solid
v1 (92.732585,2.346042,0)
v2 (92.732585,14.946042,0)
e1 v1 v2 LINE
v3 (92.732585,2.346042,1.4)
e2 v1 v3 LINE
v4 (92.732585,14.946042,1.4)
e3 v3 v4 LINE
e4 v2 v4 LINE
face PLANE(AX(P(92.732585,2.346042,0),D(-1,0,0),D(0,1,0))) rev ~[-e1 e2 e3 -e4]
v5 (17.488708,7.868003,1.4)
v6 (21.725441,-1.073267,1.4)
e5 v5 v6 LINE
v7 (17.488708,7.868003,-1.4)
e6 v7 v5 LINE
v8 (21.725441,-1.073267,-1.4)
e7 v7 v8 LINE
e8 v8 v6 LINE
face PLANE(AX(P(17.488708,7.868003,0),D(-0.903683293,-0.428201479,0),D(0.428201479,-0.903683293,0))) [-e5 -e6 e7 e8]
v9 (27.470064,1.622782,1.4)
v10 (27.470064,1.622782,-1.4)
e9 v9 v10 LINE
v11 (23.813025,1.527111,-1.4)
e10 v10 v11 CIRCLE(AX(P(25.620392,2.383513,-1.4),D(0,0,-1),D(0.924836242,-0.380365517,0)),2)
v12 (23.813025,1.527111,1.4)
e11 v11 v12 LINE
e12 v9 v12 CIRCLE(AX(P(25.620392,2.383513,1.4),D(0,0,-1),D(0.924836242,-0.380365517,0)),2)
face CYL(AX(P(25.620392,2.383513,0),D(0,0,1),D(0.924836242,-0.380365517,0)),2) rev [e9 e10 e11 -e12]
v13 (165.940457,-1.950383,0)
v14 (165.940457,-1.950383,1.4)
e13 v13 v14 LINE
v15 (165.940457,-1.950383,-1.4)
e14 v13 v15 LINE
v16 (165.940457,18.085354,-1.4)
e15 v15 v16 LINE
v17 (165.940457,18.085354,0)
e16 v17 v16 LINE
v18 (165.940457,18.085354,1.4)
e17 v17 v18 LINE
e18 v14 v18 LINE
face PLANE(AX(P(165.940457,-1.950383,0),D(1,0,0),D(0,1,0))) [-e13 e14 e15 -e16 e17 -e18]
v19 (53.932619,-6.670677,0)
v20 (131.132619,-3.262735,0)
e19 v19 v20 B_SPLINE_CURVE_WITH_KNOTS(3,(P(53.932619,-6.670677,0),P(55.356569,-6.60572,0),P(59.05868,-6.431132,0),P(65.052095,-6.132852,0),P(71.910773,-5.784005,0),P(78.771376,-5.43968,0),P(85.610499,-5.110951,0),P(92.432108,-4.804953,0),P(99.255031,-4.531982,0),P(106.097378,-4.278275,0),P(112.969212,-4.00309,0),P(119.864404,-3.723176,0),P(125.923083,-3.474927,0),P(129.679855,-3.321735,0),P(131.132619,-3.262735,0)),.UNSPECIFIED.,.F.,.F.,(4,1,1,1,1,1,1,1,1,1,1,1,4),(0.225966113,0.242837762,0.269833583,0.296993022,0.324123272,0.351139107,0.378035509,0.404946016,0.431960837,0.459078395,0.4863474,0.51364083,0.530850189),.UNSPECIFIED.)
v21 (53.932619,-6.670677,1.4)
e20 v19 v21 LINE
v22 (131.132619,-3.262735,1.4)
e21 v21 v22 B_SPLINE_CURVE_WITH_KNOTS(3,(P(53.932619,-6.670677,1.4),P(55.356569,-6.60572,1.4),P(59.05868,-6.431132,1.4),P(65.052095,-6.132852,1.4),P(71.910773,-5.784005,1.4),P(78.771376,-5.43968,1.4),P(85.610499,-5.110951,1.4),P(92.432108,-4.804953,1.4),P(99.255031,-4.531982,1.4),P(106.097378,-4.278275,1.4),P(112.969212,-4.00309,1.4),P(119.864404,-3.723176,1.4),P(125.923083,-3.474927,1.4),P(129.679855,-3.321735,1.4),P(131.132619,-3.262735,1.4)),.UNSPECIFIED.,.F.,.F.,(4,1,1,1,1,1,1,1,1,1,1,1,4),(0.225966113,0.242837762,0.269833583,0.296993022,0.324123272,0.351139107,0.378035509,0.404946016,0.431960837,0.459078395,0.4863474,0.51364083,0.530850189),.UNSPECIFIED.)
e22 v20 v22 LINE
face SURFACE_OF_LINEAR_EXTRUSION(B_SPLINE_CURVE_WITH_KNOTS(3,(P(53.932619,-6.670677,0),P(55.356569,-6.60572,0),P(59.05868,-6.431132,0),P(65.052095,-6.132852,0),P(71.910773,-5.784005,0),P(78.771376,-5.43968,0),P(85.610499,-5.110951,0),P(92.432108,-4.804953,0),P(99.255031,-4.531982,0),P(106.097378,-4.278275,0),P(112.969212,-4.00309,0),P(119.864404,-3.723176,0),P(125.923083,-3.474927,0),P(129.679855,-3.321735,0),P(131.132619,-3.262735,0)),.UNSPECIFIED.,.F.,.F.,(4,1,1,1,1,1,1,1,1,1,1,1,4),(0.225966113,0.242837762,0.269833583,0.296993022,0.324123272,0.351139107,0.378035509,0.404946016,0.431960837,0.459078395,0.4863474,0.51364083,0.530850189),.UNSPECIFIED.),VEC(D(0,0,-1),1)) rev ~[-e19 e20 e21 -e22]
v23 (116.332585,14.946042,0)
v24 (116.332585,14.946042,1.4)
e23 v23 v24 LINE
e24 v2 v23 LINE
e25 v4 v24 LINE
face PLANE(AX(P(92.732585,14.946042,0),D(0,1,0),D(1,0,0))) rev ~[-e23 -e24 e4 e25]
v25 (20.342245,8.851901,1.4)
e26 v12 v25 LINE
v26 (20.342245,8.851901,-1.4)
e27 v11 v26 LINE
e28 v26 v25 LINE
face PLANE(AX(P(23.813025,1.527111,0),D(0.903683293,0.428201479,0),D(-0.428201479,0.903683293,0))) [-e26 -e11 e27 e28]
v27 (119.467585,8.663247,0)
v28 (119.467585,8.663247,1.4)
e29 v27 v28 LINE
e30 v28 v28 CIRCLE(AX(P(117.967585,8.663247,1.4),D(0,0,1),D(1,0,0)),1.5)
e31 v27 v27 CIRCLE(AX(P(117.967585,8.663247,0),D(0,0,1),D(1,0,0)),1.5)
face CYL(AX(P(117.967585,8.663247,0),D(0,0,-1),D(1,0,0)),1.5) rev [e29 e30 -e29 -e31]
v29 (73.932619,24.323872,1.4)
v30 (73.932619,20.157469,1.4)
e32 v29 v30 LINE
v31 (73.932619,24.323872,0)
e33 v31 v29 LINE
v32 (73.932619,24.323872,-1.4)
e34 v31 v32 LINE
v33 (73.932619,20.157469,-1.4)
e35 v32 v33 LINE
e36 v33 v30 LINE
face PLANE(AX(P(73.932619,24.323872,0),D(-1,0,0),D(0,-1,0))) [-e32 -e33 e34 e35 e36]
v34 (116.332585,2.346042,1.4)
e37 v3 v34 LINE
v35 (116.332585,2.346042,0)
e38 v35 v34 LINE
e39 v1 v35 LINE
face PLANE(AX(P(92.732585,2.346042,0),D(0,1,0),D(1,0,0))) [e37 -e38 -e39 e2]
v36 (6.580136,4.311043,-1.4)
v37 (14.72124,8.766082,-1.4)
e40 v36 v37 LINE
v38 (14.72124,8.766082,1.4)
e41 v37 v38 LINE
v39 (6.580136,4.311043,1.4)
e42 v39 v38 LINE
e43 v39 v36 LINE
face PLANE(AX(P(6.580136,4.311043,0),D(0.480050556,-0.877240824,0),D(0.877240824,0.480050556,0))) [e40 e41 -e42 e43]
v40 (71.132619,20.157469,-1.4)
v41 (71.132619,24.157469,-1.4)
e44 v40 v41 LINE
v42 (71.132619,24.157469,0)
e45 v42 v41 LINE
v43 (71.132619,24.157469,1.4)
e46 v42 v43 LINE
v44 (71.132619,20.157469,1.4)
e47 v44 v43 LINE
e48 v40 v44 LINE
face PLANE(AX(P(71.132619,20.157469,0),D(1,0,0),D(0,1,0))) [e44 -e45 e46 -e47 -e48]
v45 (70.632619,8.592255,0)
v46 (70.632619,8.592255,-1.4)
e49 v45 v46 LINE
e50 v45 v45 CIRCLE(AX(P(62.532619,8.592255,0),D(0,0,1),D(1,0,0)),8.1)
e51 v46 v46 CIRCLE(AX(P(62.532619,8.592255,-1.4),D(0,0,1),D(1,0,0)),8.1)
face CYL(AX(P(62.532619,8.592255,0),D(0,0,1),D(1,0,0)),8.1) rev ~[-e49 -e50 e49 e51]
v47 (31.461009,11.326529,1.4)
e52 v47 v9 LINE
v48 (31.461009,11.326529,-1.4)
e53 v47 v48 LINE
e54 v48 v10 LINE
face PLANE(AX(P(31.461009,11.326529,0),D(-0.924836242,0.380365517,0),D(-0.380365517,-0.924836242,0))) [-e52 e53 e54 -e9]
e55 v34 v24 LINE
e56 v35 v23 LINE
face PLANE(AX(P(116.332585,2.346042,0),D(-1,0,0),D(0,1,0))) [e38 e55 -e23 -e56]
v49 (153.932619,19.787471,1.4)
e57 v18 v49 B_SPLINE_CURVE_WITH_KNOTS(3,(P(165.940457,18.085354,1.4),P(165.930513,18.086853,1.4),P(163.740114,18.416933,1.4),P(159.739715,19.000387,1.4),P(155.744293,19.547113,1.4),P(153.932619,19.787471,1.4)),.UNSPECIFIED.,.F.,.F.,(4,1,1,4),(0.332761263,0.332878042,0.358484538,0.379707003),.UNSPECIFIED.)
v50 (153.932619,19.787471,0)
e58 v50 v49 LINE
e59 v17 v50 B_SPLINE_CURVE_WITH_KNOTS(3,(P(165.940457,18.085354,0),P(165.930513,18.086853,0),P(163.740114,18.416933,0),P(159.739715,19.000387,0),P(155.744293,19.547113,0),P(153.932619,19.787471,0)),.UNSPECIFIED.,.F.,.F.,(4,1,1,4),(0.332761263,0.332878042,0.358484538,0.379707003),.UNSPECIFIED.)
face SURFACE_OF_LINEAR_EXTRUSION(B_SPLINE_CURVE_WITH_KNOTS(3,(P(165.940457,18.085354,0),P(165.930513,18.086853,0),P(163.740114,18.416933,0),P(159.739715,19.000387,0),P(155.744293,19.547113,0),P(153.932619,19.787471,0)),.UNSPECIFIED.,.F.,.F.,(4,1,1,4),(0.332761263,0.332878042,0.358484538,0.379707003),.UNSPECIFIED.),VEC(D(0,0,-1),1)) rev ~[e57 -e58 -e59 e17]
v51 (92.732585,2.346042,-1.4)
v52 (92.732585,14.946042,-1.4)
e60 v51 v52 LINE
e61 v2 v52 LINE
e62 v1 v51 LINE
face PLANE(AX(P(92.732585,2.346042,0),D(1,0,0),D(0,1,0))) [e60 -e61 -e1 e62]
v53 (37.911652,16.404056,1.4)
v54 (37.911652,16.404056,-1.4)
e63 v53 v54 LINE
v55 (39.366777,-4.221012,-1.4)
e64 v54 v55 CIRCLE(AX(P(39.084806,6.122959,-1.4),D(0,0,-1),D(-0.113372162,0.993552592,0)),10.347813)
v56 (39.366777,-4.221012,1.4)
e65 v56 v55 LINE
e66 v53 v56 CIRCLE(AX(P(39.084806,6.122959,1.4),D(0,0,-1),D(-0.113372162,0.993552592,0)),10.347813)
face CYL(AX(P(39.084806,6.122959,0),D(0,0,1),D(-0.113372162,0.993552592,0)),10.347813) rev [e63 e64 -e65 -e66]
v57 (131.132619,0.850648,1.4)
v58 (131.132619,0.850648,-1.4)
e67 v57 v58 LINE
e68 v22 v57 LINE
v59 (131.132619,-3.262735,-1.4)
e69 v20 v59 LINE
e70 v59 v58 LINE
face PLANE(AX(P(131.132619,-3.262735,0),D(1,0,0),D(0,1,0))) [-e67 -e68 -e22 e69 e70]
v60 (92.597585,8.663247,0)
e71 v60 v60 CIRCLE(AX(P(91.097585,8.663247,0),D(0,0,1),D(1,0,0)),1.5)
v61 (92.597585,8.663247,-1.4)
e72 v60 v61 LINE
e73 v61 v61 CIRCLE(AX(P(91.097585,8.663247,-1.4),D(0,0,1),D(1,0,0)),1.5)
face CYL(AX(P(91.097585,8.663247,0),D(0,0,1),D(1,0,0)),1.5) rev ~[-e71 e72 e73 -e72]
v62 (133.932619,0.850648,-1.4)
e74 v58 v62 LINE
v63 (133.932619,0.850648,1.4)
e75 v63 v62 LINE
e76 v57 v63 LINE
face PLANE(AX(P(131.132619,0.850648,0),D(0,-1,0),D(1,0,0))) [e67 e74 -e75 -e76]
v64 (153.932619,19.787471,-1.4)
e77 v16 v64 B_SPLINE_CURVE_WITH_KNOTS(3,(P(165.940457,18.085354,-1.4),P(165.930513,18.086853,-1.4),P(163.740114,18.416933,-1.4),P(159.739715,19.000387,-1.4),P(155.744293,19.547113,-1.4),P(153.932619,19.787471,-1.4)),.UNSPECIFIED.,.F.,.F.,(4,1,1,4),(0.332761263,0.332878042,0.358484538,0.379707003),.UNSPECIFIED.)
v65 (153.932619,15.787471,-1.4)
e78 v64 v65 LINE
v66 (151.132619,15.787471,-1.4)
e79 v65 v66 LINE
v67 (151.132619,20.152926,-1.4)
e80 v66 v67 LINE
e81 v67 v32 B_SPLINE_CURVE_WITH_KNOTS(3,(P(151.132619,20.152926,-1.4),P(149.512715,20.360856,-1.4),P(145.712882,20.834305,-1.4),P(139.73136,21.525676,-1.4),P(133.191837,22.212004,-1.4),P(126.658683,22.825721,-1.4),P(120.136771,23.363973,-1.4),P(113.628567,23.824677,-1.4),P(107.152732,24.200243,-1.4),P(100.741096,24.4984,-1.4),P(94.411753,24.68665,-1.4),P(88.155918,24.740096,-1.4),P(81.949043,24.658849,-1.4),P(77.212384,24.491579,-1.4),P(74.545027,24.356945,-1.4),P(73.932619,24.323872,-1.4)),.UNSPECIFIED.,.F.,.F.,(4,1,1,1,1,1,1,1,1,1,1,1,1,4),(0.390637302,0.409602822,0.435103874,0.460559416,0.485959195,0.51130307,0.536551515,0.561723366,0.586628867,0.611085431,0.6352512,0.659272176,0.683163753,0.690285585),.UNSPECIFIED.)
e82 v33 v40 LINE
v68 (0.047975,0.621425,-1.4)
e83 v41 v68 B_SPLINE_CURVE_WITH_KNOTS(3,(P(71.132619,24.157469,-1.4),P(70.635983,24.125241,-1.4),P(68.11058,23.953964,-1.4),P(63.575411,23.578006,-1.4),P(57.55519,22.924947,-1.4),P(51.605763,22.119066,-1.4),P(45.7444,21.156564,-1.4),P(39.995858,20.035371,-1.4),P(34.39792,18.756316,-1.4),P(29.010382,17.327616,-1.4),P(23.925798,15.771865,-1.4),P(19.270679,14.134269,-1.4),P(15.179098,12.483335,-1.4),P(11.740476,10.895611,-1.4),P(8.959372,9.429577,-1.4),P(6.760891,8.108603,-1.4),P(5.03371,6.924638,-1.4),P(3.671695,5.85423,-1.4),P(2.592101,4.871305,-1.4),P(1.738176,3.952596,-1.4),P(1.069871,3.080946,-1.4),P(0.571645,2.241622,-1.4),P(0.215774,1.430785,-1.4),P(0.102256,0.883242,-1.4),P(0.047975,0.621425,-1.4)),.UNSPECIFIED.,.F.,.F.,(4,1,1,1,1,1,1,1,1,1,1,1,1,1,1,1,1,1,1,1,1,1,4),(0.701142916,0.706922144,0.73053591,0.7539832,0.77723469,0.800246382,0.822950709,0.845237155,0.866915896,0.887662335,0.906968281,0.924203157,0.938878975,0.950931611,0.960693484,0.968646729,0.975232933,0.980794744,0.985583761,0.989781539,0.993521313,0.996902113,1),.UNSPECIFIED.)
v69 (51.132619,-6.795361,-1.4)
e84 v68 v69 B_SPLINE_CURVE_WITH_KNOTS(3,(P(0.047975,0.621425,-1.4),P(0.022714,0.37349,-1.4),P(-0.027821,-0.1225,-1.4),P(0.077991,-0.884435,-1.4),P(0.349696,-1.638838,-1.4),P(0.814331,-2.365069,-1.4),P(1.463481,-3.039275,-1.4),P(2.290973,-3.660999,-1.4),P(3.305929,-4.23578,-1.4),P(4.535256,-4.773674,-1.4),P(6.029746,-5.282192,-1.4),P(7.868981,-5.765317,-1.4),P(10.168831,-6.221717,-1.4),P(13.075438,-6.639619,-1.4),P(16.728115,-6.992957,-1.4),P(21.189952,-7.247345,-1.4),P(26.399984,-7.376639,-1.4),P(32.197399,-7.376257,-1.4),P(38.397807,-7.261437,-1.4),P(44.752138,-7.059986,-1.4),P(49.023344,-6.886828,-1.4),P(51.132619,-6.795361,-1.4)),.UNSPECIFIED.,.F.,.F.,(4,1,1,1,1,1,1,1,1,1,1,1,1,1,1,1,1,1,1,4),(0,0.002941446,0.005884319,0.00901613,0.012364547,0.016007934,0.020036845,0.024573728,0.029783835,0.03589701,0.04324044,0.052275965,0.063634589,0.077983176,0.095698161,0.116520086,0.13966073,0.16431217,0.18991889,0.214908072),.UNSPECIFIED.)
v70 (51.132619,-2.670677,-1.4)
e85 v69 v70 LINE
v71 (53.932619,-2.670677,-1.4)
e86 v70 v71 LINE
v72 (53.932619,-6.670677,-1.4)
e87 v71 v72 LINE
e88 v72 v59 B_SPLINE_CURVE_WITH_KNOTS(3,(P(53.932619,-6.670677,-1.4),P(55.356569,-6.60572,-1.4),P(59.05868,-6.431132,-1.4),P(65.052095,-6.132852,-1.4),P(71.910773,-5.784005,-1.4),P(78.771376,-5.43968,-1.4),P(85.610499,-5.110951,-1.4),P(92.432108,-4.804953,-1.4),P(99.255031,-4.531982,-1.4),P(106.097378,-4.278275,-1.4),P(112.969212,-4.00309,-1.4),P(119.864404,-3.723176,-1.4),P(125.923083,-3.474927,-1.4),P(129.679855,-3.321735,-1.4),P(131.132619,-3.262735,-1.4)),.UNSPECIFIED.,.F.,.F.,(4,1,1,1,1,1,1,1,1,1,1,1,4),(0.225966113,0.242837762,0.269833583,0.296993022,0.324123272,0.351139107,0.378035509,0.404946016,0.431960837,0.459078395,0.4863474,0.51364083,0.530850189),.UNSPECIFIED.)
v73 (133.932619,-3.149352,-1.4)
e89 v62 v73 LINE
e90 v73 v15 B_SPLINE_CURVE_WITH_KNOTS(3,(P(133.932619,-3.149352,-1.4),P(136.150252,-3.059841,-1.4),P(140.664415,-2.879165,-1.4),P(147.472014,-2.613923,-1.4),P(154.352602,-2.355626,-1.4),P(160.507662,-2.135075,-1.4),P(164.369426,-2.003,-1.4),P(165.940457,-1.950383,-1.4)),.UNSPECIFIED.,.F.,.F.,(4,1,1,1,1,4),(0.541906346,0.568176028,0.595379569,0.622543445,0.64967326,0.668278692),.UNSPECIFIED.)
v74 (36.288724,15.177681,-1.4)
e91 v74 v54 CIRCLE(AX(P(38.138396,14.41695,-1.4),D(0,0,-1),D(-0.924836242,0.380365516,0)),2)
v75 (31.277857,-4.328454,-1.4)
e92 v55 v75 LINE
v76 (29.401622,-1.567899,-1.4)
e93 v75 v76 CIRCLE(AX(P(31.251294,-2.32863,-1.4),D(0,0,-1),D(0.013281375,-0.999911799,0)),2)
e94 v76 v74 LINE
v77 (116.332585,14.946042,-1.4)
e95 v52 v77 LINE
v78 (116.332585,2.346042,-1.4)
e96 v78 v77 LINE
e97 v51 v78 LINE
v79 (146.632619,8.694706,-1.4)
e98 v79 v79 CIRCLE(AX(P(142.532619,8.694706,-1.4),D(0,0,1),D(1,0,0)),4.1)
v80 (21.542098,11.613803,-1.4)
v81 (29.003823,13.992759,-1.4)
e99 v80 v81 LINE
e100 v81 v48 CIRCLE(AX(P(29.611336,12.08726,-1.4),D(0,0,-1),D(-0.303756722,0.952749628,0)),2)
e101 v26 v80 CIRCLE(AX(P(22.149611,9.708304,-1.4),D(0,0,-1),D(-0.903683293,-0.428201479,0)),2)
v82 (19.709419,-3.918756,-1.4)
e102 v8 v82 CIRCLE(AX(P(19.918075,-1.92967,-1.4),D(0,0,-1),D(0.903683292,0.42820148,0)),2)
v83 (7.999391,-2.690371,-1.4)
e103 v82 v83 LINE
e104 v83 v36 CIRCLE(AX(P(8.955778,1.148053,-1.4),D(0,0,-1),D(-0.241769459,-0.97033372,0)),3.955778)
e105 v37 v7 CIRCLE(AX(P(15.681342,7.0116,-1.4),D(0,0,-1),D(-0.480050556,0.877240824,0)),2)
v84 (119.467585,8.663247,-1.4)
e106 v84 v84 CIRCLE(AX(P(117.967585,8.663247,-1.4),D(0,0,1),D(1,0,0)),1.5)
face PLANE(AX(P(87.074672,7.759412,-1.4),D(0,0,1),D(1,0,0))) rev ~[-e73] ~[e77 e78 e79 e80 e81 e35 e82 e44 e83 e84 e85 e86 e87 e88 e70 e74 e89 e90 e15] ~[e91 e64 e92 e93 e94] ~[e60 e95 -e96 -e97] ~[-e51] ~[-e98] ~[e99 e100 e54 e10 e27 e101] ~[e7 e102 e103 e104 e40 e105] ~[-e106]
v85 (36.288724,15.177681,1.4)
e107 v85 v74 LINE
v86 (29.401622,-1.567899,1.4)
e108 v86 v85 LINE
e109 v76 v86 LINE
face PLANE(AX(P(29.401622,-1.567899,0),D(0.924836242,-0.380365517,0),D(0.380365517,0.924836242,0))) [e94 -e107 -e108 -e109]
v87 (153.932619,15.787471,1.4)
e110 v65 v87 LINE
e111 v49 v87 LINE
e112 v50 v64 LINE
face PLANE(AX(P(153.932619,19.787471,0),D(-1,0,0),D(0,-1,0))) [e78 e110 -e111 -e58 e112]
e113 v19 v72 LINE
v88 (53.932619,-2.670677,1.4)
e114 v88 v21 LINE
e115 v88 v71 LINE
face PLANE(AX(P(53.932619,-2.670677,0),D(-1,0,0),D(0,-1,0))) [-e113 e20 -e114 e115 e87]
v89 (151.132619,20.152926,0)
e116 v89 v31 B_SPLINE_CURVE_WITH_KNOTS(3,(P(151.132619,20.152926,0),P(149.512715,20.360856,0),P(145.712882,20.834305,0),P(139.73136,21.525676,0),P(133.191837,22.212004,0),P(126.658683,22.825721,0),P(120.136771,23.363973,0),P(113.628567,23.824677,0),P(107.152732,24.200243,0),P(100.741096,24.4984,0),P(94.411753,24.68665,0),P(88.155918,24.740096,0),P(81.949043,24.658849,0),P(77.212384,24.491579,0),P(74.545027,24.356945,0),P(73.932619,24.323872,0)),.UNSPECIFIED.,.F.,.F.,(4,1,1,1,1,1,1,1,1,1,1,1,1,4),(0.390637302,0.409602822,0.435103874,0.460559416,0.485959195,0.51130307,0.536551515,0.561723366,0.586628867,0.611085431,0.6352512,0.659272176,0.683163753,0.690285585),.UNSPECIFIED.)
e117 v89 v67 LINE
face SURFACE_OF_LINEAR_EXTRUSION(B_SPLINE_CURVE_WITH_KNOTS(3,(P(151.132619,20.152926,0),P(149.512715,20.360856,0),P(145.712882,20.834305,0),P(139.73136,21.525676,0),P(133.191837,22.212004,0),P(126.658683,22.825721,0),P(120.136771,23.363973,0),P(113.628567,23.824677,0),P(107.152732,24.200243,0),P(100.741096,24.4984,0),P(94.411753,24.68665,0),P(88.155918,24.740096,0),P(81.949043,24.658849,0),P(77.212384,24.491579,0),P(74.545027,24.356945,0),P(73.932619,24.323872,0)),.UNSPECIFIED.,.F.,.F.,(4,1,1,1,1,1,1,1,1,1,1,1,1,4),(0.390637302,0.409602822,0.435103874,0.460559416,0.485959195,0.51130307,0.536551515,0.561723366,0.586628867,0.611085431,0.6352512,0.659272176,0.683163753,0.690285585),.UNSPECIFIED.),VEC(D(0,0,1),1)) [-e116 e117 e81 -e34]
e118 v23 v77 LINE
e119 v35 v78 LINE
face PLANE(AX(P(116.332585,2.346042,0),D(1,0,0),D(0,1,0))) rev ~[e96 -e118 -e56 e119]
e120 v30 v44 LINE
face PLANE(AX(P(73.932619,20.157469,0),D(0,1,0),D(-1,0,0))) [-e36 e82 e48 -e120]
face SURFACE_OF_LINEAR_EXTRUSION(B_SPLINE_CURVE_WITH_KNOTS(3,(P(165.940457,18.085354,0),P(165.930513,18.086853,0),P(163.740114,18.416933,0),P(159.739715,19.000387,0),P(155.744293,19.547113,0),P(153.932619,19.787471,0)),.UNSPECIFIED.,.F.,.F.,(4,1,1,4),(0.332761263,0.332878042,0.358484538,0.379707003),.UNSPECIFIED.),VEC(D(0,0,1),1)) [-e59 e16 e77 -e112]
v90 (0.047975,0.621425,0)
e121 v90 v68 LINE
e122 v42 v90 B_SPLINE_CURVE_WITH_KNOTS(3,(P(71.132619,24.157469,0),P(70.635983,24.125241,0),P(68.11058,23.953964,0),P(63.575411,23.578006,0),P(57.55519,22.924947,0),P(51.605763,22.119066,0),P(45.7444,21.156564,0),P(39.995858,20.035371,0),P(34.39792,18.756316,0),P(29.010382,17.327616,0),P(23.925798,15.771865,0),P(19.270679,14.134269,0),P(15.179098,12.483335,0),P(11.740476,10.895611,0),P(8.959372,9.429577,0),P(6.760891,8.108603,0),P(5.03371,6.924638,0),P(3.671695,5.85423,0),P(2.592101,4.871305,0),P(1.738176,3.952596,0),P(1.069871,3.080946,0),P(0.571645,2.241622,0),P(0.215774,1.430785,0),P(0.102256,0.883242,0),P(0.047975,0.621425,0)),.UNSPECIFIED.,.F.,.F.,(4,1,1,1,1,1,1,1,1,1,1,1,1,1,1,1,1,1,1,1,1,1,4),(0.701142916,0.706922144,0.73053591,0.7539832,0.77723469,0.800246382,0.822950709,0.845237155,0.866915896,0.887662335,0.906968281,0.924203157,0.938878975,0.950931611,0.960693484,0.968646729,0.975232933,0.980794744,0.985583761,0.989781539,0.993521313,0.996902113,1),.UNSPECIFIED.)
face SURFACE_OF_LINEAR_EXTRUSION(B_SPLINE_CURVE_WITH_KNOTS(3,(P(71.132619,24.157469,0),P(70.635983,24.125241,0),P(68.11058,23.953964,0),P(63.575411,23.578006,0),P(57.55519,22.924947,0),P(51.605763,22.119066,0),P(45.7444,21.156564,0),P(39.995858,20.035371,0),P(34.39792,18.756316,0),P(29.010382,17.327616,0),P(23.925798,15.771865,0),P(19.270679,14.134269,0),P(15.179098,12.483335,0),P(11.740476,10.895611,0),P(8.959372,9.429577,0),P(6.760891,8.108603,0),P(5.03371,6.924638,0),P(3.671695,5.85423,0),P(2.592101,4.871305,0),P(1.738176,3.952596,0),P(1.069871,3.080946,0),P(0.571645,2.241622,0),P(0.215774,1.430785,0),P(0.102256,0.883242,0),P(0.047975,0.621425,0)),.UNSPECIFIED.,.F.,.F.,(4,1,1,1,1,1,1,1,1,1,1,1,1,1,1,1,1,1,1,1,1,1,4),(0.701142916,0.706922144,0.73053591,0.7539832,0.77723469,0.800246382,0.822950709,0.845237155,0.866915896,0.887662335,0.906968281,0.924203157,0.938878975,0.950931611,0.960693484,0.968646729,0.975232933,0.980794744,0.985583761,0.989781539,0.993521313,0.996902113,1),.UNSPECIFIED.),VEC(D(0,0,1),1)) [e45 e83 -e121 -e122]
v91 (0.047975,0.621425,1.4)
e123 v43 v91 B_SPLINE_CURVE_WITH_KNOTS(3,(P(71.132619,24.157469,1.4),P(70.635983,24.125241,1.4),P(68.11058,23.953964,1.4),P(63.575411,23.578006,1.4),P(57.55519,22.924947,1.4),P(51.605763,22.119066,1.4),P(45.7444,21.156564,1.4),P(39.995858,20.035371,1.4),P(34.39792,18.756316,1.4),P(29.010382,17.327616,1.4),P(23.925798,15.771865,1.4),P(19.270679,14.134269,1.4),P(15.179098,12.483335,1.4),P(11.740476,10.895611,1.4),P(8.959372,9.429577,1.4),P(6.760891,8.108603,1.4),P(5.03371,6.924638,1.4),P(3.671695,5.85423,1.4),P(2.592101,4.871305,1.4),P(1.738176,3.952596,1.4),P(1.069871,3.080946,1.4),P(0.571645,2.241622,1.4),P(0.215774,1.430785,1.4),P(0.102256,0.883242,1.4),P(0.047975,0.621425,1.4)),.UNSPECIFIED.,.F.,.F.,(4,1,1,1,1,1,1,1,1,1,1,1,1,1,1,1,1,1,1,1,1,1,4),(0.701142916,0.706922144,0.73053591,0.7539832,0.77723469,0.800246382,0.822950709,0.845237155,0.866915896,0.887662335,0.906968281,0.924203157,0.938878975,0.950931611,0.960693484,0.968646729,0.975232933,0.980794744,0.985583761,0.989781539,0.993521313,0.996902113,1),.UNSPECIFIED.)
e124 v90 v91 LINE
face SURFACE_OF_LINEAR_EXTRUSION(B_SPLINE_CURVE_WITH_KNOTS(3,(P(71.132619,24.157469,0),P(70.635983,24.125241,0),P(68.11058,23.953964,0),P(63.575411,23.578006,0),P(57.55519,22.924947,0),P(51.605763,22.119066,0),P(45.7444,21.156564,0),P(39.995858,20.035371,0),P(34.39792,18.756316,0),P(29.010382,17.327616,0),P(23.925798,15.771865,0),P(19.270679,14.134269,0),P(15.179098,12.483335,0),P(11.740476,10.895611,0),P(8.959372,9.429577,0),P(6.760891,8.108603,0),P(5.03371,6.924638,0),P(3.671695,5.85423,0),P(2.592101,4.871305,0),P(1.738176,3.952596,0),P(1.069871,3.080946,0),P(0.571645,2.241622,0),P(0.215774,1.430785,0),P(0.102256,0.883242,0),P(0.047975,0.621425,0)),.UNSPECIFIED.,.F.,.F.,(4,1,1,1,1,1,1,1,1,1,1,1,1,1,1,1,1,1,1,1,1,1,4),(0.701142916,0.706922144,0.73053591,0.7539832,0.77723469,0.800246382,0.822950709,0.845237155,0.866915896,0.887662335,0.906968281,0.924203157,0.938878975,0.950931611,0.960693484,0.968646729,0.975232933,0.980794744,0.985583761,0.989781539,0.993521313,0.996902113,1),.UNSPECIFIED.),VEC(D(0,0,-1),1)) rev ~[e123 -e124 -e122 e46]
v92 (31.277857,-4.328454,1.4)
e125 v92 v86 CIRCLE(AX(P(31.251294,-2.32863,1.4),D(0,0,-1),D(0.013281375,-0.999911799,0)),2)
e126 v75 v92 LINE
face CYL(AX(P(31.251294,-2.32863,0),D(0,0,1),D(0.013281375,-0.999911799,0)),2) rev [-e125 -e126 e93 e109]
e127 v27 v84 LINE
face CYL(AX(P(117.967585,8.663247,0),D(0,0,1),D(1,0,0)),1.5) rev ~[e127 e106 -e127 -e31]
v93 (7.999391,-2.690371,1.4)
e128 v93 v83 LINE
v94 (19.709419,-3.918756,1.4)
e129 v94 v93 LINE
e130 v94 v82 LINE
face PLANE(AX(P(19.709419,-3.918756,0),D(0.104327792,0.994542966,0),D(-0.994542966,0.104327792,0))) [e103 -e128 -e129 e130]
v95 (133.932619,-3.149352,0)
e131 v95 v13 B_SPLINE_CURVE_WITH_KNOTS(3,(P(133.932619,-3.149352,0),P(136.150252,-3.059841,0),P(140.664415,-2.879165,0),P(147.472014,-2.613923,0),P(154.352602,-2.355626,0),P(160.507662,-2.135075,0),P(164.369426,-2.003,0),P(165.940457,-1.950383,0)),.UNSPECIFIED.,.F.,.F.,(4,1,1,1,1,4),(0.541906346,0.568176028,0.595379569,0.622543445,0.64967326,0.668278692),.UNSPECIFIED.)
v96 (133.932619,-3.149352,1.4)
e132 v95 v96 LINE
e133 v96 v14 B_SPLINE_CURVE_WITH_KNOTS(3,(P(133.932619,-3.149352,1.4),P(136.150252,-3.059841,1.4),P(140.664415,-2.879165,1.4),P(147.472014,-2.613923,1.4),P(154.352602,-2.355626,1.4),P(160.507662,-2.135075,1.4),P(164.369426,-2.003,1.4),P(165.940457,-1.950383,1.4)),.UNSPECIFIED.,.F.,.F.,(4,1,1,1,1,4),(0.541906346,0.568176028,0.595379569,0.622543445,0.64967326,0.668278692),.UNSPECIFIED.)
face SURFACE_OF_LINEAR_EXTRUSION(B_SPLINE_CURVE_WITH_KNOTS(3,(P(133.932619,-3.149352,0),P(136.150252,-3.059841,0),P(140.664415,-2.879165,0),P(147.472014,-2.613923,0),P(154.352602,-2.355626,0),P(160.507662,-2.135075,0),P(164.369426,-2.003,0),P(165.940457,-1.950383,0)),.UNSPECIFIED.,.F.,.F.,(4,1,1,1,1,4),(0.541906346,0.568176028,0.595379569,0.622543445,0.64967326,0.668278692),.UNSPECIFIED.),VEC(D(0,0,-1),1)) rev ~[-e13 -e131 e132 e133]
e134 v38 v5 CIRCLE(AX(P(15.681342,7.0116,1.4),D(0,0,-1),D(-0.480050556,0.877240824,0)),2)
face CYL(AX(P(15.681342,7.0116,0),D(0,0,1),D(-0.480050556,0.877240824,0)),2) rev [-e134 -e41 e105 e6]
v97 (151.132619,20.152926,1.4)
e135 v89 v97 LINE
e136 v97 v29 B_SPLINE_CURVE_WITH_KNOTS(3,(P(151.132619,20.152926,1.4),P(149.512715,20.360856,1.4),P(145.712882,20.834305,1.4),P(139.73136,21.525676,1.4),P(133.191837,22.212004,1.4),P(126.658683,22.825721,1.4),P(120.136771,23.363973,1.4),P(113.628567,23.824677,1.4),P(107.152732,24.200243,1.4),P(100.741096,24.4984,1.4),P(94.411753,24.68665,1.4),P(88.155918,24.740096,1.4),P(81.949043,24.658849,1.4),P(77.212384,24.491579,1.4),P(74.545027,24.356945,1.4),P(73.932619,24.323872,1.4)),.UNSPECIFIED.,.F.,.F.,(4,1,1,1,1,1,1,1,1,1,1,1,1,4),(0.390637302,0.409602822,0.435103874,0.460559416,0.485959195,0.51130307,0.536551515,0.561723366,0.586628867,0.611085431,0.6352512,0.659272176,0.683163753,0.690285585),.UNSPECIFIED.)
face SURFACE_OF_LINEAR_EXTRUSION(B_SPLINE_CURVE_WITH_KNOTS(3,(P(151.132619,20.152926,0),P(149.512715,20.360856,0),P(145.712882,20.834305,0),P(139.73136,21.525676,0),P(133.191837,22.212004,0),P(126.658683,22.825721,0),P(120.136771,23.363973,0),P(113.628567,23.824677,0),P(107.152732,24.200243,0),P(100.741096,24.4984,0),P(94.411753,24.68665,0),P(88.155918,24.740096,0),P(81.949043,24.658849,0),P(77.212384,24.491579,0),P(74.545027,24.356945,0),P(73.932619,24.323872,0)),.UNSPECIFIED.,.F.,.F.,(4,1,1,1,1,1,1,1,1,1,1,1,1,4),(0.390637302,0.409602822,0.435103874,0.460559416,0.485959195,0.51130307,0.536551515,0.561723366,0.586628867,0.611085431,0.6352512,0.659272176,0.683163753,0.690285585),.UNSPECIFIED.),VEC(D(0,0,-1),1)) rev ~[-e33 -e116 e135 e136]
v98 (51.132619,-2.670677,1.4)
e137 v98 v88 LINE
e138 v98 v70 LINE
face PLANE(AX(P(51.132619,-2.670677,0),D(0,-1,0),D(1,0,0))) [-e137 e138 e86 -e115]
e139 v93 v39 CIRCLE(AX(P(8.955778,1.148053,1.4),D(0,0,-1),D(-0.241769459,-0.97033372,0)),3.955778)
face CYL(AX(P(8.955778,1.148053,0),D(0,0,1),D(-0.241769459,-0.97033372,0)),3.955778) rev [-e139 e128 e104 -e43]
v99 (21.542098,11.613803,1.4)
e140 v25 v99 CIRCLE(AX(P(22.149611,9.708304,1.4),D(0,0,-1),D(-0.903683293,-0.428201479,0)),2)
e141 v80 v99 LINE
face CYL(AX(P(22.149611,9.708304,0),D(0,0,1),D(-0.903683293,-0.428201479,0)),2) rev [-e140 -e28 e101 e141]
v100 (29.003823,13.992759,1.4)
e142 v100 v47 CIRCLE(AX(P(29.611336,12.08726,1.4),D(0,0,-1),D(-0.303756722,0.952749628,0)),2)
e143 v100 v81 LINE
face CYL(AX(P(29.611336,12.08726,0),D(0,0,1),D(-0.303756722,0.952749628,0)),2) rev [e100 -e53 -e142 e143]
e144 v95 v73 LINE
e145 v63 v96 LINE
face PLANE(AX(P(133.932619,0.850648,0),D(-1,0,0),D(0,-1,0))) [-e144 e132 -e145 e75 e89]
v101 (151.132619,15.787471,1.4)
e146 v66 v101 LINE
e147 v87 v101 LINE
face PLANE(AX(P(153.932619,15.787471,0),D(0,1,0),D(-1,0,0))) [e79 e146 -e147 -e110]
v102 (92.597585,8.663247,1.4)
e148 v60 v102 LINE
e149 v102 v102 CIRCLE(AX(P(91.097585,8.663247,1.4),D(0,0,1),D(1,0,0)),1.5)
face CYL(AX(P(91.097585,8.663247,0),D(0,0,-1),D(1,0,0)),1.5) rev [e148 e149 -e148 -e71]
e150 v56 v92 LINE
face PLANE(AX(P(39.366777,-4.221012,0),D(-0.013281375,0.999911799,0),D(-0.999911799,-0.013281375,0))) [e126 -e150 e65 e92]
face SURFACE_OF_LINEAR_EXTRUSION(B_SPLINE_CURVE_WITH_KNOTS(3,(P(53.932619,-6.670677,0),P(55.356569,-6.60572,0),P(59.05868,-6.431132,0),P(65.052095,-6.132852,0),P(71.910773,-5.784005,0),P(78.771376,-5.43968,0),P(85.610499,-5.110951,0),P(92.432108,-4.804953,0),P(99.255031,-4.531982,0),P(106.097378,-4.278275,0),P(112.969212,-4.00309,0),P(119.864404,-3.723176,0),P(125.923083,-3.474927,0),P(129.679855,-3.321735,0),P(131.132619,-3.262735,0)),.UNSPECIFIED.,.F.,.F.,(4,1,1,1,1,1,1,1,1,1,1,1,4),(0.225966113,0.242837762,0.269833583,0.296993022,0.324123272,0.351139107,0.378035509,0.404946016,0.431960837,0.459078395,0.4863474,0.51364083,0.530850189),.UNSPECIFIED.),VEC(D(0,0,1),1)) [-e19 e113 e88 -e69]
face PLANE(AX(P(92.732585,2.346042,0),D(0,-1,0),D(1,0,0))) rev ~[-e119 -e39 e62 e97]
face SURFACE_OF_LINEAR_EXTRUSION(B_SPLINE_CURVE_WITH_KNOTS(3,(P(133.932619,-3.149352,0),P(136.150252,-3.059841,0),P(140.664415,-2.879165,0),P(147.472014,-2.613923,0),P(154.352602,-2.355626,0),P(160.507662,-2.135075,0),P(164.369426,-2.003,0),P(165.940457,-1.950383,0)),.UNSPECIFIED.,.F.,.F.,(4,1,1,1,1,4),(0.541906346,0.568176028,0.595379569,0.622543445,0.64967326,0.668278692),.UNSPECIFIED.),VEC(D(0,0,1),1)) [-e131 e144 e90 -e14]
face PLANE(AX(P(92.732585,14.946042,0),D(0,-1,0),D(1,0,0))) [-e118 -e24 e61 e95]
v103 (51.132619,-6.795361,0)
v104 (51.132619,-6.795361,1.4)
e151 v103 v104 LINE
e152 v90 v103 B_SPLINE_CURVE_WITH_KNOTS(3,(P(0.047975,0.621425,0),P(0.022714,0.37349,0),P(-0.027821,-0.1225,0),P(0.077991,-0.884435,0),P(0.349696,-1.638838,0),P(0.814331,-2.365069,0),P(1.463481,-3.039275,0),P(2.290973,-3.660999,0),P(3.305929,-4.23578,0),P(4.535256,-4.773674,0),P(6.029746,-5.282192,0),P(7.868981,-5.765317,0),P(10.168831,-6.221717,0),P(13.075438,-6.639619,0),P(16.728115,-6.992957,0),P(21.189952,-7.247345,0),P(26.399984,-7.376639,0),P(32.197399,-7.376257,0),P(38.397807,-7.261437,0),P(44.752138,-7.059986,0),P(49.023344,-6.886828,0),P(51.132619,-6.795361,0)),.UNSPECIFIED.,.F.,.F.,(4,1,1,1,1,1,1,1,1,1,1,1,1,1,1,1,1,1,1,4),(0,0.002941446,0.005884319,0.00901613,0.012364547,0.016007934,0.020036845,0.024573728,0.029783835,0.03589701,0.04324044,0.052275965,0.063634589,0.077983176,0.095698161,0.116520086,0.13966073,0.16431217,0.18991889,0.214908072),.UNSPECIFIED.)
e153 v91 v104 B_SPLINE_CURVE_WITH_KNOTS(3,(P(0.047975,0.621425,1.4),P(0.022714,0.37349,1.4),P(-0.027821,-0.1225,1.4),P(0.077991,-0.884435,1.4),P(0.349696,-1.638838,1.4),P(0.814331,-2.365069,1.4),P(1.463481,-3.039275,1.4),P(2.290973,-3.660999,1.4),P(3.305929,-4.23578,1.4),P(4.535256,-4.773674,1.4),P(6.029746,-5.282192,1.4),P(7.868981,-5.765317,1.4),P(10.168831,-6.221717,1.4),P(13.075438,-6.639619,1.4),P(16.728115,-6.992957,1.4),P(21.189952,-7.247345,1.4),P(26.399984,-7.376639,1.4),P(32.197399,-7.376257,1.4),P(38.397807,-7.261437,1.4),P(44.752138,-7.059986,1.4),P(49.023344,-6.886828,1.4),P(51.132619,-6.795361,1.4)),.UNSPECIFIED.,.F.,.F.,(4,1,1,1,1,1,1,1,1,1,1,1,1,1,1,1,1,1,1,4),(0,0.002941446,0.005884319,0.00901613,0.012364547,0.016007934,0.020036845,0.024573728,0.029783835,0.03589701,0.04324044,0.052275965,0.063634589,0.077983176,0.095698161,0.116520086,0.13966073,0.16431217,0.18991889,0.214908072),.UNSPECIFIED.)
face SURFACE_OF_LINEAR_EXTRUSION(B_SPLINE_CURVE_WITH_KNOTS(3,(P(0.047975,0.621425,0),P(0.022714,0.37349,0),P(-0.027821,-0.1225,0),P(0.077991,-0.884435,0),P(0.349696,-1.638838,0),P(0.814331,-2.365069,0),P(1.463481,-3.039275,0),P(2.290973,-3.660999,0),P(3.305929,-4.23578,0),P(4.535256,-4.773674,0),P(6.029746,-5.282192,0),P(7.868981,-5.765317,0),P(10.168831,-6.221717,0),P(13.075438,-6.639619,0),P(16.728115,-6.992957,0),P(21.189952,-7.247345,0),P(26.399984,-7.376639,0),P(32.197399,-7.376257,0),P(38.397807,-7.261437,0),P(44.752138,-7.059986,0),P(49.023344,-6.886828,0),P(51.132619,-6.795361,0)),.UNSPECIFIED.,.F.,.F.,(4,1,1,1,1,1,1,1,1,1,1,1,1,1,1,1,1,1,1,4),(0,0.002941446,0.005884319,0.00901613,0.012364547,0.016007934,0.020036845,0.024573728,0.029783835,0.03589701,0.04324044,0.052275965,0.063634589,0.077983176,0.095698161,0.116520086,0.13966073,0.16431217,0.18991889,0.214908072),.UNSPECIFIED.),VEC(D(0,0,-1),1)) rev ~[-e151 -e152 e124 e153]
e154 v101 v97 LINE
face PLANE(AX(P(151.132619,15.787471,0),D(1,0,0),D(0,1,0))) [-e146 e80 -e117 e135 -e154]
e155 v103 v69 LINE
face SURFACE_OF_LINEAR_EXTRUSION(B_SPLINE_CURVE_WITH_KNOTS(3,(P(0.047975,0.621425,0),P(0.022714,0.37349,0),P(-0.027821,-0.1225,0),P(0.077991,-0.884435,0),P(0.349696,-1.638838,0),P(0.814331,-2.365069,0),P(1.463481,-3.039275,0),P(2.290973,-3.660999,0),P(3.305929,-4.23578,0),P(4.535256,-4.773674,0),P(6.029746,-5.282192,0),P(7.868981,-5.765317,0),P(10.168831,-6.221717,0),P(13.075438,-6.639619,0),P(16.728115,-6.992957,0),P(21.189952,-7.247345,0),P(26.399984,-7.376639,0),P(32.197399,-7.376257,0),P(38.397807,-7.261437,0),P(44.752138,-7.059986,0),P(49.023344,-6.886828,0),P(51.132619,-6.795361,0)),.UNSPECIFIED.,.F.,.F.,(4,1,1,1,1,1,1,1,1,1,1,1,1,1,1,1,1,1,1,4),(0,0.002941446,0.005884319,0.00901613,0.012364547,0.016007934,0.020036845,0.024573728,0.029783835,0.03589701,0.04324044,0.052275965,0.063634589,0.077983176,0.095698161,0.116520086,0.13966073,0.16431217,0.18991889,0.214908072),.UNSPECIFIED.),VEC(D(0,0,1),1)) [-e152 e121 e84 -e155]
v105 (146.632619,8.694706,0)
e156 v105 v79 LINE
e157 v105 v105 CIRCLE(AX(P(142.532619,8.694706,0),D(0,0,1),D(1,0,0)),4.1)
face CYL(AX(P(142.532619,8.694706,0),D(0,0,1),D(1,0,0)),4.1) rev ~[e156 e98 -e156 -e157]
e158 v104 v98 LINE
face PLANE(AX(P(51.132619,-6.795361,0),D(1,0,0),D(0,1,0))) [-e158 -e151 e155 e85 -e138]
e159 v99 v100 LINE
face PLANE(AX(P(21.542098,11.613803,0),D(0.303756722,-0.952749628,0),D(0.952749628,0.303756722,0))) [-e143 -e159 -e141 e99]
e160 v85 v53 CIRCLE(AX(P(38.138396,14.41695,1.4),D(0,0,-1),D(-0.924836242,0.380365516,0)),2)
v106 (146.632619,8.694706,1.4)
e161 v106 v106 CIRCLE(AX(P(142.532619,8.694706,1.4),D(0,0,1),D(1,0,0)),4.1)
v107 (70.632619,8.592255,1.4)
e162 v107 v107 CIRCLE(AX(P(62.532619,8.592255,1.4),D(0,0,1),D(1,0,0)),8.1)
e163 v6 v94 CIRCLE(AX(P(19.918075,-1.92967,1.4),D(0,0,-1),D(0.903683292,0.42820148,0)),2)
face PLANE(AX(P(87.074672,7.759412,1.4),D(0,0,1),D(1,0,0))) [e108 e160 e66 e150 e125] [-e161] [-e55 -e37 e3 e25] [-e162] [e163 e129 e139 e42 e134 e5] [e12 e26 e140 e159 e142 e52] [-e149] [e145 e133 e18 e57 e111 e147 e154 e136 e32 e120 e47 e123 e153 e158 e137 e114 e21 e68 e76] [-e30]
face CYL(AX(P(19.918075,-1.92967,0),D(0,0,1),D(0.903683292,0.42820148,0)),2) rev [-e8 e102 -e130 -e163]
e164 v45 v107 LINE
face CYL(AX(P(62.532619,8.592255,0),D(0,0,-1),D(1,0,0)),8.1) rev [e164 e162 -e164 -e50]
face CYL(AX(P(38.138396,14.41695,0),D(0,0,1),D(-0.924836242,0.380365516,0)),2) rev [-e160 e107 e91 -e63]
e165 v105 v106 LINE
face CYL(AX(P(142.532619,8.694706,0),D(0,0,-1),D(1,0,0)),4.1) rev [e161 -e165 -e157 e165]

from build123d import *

# Parameters (mm, degrees)
SKETCH_2_R      = 8.1
SKETCH_2_R_2    = 1.5
SKETCH_2_W      = 23.6
SKETCH_2_H      = 12.6
SKETCH_2_R_3    = 4.1
EXTRUDE_2_DEPTH = 1.4


with BuildPart() as part:
    # Эскиз2 → Бобышка-Вытянуть2 (new, symmetric)
    with BuildSketch(Plane.XY):
        with BuildLine():
            Line((165.940456932, 7.493910357), (165.940456932, 18.08535451))
            add(Edge.make_bspline(
                [(165.940456927, 18.085354477), (165.930512982, 18.086853188), (163.740114219, 18.416932942), (159.739714866, 19.000386852), (155.744292591, 19.547112651), (153.932619318, 19.787470759)],
                knots=[0.332761263, 0.332761263, 0.332761263, 0.332761263, 0.332878042, 0.358484538, 0.379707003, 0.379707003, 0.379707003, 0.379707003], degree=3))
            Line((153.932619318, 19.787470759), (153.932619318, 15.787470759))
            Line((153.932619318, 15.787470759), (151.132619318, 15.787470759))
            Line((151.132619318, 15.787470759), (151.132619318, 20.152925753))
            add(Edge.make_bspline(
                [(151.132619318, 20.152925753), (149.51271539, 20.360855756), (145.712882211, 20.834305053), (139.731359791, 21.525676112), (133.19183673, 22.212004248), (126.658683026, 22.825721427), (120.136770918, 23.363973264), (113.62856714, 23.824677322), (107.152732037, 24.200242592), (100.741095693, 24.498399508), (94.411752715, 24.686649766), (88.155917993, 24.740095648), (81.949043055, 24.658849141), (77.212383792, 24.491578654), (74.545027167, 24.35694527), (73.932619318, 24.323871534)],
                knots=[0.390637302, 0.390637302, 0.390637302, 0.390637302, 0.409602822, 0.435103874, 0.460559416, 0.485959195, 0.51130307, 0.536551515, 0.561723366, 0.586628867, 0.611085431, 0.6352512, 0.659272176, 0.683163753, 0.690285585, 0.690285585, 0.690285585, 0.690285585], degree=3))
            Line((73.932619318, 24.323871534), (73.932619318, 20.157469486))
            Line((73.932619318, 20.157469486), (71.132619318, 20.157469486))
            Line((71.132619318, 20.157469486), (71.132619318, 24.157469486))
            add(Edge.make_bspline(
                [(71.132619318, 24.157469486), (70.635982629, 24.125241372), (68.110579653, 23.953963558), (63.575410502, 23.578006358), (57.555189551, 22.924946655), (51.605762689, 22.119065518), (45.744400312, 21.156564429), (39.995857594, 20.035371386), (34.397919843, 18.75631623), (29.010382104, 17.327615604), (23.925798409, 15.771864917), (19.27067884, 14.13426943), (15.179098392, 12.483335433), (11.740475791, 10.89561099), (8.959371869, 9.429577361), (6.760891181, 8.108603195), (5.033709749, 6.92463805), (3.671694934, 5.85422966), (2.592101124, 4.871305364), (1.738175669, 3.952595739), (1.069870831, 3.080946369), (0.571645411, 2.241622098), (0.2157739, 1.430785392), (0.102255582, 0.88324169), (0.047975001, 0.621424995)],
                knots=[0.701142916, 0.701142916, 0.701142916, 0.701142916, 0.706922144, 0.73053591, 0.7539832, 0.77723469, 0.800246382, 0.822950709, 0.845237155, 0.866915896, 0.887662335, 0.906968281, 0.924203157, 0.938878975, 0.950931611, 0.960693484, 0.968646729, 0.975232933, 0.980794744, 0.985583761, 0.989781539, 0.993521313, 0.996902113, 1, 1, 1, 1], degree=3))
            add(Edge.make_bspline(
                [(0.047975001, 0.621424995), (0.022713821, 0.373490081), (-0.027820788, -0.12249998), (0.077991213, -0.884434595), (0.349695651, -1.638838075), (0.814331136, -2.365068928), (1.463480781, -3.039275249), (2.290973018, -3.660999474), (3.305928751, -4.235779626), (4.53525562, -4.773674148), (6.029745689, -5.282192169), (7.868981216, -5.765316681), (10.168831393, -6.221716597), (13.07543819, -6.639618735), (16.728115364, -6.992956742), (21.189952097, -7.247345149), (26.399984417, -7.376638853), (32.197398565, -7.376256917), (38.39780676, -7.261436583), (44.752137938, -7.05998551), (49.023344092, -6.886827907), (51.132619318, -6.795360627)],
                knots=[0, 0, 0, 0, 0.002941446, 0.005884319, 0.00901613, 0.012364547, 0.016007934, 0.020036845, 0.024573728, 0.029783835, 0.03589701, 0.04324044, 0.052275965, 0.063634589, 0.077983176, 0.095698161, 0.116520086, 0.13966073, 0.16431217, 0.18991889, 0.214908072, 0.214908072, 0.214908072, 0.214908072], degree=3))
            Line((51.132619318, -6.795360627), (51.132619318, -2.670677263))
            Line((51.132619318, -2.670677263), (53.932619318, -2.670677263))
            Line((53.932619318, -2.670677263), (53.932619318, -6.670677263))
            add(Edge.make_bspline(
                [(53.932619318, -6.670677263), (55.356569482, -6.605720394), (59.058679651, -6.431131786), (65.052094606, -6.13285227), (71.91077271, -5.784005184), (78.771375577, -5.439680462), (85.61049861, -5.110951262), (92.43210759, -4.804953337), (99.255031191, -4.531981668), (106.097378406, -4.278274685), (112.969211681, -4.003089942), (119.864404255, -3.723176202), (125.92308308, -3.47492717), (129.679854903, -3.321735217), (131.132619318, -3.262735091)],
                knots=[0.225966113, 0.225966113, 0.225966113, 0.225966113, 0.242837762, 0.269833583, 0.296993022, 0.324123272, 0.351139107, 0.378035509, 0.404946016, 0.431960837, 0.459078395, 0.4863474, 0.51364083, 0.530850189, 0.530850189, 0.530850189, 0.530850189], degree=3))
            Line((131.132619318, -3.262735091), (131.132619318, 0.850647814))
            Line((131.132619318, 0.850647814), (133.932619318, 0.850647814))
            Line((133.932619318, 0.850647814), (133.932619318, -3.149352186))
            add(Edge.make_bspline(
                [(133.932619318, -3.149352186), (136.150252366, -3.05984138), (140.66441482, -2.879164577), (147.472013762, -2.613922958), (154.352602411, -2.355626415), (160.507662095, -2.135075484), (164.369425992, -2.00299999), (165.940456932, -1.950382964)],
                knots=[0.541906346, 0.541906346, 0.541906346, 0.541906346, 0.568176028, 0.595379569, 0.622543445, 0.64967326, 0.668278692, 0.668278692, 0.668278692, 0.668278692], degree=3))
            Line((165.940456932, -1.950382964), (165.940456932, 7.493910357))
        make_face()
        with BuildLine():
            ThreePointArc((14.721240391, 8.766081587), (16.29867531, 8.913940332), (17.488708089, 7.868002897))
            Line((17.488708089, 7.868002897), (21.725441093, -1.073266618))
            ThreePointArc((21.725441093, -1.073266618), (21.549996986, -3.085882804), (19.709418924, -3.918755509))
            Line((19.709418924, -3.918755509), (7.999391348, -2.690370853))
            ThreePointArc((7.999391348, -2.690370853), (5.078852056, 0.362162442), (6.580135706, 4.311042875))
            Line((6.580135706, 4.311042875), (14.721240391, 8.766081587))
        make_face(mode=Mode.SUBTRACT)
        with BuildLine():
            Line((23.813024955, 1.527110532), (20.342244628, 8.85190119))
            ThreePointArc((20.342244628, 8.85190119), (20.315234657, 10.50521233), (21.542097769, 11.613803404))
            Line((21.542097769, 11.613803404), (29.003823035, 13.992759157))
            ThreePointArc((29.003823035, 13.992759157), (31.082028751, 13.44264333), (31.461008962, 11.326528867))
            Line((31.461008962, 11.326528867), (27.470064023, 1.622782457))
            ThreePointArc((27.470064023, 1.622782457), (25.672695714, 0.384197539), (23.813024955, 1.527110532))
        make_face(mode=Mode.SUBTRACT)
        with BuildLine():
            ThreePointArc((31.277857225, -4.328453595), (29.59717908, -3.452864074), (29.401621993, -1.567898965))
            Line((29.401621993, -1.567898965), (36.28872379, 15.177681436))
            ThreePointArc((36.28872379, 15.177681436), (36.93262885, 16.01260855), (37.911651949, 16.404055587))
            ThreePointArc((37.911651949, 16.404055587), (49.40696202, 6.85120019), (39.366777065, -4.221012142))
            Line((39.366777065, -4.221012142), (31.277857225, -4.328453595))
        make_face(mode=Mode.SUBTRACT)
        with Locations((62.532619318, 8.592254753)):
            Circle(SKETCH_2_R, mode=Mode.SUBTRACT)
        with Locations((91.097584877, 8.663246996)):
            Circle(SKETCH_2_R_2, mode=Mode.SUBTRACT)
        with Locations((104.532584877, 8.646041596)):
            Rectangle(SKETCH_2_W, SKETCH_2_H, mode=Mode.SUBTRACT)
        with Locations((117.967584877, 8.663246996)):
            Circle(SKETCH_2_R_2, mode=Mode.SUBTRACT)
        with Locations((142.532619318, 8.694705966)):
            Circle(SKETCH_2_R_3, mode=Mode.SUBTRACT)
    extrude(amount=EXTRUDE_2_DEPTH, both=True)


solid = part.part
